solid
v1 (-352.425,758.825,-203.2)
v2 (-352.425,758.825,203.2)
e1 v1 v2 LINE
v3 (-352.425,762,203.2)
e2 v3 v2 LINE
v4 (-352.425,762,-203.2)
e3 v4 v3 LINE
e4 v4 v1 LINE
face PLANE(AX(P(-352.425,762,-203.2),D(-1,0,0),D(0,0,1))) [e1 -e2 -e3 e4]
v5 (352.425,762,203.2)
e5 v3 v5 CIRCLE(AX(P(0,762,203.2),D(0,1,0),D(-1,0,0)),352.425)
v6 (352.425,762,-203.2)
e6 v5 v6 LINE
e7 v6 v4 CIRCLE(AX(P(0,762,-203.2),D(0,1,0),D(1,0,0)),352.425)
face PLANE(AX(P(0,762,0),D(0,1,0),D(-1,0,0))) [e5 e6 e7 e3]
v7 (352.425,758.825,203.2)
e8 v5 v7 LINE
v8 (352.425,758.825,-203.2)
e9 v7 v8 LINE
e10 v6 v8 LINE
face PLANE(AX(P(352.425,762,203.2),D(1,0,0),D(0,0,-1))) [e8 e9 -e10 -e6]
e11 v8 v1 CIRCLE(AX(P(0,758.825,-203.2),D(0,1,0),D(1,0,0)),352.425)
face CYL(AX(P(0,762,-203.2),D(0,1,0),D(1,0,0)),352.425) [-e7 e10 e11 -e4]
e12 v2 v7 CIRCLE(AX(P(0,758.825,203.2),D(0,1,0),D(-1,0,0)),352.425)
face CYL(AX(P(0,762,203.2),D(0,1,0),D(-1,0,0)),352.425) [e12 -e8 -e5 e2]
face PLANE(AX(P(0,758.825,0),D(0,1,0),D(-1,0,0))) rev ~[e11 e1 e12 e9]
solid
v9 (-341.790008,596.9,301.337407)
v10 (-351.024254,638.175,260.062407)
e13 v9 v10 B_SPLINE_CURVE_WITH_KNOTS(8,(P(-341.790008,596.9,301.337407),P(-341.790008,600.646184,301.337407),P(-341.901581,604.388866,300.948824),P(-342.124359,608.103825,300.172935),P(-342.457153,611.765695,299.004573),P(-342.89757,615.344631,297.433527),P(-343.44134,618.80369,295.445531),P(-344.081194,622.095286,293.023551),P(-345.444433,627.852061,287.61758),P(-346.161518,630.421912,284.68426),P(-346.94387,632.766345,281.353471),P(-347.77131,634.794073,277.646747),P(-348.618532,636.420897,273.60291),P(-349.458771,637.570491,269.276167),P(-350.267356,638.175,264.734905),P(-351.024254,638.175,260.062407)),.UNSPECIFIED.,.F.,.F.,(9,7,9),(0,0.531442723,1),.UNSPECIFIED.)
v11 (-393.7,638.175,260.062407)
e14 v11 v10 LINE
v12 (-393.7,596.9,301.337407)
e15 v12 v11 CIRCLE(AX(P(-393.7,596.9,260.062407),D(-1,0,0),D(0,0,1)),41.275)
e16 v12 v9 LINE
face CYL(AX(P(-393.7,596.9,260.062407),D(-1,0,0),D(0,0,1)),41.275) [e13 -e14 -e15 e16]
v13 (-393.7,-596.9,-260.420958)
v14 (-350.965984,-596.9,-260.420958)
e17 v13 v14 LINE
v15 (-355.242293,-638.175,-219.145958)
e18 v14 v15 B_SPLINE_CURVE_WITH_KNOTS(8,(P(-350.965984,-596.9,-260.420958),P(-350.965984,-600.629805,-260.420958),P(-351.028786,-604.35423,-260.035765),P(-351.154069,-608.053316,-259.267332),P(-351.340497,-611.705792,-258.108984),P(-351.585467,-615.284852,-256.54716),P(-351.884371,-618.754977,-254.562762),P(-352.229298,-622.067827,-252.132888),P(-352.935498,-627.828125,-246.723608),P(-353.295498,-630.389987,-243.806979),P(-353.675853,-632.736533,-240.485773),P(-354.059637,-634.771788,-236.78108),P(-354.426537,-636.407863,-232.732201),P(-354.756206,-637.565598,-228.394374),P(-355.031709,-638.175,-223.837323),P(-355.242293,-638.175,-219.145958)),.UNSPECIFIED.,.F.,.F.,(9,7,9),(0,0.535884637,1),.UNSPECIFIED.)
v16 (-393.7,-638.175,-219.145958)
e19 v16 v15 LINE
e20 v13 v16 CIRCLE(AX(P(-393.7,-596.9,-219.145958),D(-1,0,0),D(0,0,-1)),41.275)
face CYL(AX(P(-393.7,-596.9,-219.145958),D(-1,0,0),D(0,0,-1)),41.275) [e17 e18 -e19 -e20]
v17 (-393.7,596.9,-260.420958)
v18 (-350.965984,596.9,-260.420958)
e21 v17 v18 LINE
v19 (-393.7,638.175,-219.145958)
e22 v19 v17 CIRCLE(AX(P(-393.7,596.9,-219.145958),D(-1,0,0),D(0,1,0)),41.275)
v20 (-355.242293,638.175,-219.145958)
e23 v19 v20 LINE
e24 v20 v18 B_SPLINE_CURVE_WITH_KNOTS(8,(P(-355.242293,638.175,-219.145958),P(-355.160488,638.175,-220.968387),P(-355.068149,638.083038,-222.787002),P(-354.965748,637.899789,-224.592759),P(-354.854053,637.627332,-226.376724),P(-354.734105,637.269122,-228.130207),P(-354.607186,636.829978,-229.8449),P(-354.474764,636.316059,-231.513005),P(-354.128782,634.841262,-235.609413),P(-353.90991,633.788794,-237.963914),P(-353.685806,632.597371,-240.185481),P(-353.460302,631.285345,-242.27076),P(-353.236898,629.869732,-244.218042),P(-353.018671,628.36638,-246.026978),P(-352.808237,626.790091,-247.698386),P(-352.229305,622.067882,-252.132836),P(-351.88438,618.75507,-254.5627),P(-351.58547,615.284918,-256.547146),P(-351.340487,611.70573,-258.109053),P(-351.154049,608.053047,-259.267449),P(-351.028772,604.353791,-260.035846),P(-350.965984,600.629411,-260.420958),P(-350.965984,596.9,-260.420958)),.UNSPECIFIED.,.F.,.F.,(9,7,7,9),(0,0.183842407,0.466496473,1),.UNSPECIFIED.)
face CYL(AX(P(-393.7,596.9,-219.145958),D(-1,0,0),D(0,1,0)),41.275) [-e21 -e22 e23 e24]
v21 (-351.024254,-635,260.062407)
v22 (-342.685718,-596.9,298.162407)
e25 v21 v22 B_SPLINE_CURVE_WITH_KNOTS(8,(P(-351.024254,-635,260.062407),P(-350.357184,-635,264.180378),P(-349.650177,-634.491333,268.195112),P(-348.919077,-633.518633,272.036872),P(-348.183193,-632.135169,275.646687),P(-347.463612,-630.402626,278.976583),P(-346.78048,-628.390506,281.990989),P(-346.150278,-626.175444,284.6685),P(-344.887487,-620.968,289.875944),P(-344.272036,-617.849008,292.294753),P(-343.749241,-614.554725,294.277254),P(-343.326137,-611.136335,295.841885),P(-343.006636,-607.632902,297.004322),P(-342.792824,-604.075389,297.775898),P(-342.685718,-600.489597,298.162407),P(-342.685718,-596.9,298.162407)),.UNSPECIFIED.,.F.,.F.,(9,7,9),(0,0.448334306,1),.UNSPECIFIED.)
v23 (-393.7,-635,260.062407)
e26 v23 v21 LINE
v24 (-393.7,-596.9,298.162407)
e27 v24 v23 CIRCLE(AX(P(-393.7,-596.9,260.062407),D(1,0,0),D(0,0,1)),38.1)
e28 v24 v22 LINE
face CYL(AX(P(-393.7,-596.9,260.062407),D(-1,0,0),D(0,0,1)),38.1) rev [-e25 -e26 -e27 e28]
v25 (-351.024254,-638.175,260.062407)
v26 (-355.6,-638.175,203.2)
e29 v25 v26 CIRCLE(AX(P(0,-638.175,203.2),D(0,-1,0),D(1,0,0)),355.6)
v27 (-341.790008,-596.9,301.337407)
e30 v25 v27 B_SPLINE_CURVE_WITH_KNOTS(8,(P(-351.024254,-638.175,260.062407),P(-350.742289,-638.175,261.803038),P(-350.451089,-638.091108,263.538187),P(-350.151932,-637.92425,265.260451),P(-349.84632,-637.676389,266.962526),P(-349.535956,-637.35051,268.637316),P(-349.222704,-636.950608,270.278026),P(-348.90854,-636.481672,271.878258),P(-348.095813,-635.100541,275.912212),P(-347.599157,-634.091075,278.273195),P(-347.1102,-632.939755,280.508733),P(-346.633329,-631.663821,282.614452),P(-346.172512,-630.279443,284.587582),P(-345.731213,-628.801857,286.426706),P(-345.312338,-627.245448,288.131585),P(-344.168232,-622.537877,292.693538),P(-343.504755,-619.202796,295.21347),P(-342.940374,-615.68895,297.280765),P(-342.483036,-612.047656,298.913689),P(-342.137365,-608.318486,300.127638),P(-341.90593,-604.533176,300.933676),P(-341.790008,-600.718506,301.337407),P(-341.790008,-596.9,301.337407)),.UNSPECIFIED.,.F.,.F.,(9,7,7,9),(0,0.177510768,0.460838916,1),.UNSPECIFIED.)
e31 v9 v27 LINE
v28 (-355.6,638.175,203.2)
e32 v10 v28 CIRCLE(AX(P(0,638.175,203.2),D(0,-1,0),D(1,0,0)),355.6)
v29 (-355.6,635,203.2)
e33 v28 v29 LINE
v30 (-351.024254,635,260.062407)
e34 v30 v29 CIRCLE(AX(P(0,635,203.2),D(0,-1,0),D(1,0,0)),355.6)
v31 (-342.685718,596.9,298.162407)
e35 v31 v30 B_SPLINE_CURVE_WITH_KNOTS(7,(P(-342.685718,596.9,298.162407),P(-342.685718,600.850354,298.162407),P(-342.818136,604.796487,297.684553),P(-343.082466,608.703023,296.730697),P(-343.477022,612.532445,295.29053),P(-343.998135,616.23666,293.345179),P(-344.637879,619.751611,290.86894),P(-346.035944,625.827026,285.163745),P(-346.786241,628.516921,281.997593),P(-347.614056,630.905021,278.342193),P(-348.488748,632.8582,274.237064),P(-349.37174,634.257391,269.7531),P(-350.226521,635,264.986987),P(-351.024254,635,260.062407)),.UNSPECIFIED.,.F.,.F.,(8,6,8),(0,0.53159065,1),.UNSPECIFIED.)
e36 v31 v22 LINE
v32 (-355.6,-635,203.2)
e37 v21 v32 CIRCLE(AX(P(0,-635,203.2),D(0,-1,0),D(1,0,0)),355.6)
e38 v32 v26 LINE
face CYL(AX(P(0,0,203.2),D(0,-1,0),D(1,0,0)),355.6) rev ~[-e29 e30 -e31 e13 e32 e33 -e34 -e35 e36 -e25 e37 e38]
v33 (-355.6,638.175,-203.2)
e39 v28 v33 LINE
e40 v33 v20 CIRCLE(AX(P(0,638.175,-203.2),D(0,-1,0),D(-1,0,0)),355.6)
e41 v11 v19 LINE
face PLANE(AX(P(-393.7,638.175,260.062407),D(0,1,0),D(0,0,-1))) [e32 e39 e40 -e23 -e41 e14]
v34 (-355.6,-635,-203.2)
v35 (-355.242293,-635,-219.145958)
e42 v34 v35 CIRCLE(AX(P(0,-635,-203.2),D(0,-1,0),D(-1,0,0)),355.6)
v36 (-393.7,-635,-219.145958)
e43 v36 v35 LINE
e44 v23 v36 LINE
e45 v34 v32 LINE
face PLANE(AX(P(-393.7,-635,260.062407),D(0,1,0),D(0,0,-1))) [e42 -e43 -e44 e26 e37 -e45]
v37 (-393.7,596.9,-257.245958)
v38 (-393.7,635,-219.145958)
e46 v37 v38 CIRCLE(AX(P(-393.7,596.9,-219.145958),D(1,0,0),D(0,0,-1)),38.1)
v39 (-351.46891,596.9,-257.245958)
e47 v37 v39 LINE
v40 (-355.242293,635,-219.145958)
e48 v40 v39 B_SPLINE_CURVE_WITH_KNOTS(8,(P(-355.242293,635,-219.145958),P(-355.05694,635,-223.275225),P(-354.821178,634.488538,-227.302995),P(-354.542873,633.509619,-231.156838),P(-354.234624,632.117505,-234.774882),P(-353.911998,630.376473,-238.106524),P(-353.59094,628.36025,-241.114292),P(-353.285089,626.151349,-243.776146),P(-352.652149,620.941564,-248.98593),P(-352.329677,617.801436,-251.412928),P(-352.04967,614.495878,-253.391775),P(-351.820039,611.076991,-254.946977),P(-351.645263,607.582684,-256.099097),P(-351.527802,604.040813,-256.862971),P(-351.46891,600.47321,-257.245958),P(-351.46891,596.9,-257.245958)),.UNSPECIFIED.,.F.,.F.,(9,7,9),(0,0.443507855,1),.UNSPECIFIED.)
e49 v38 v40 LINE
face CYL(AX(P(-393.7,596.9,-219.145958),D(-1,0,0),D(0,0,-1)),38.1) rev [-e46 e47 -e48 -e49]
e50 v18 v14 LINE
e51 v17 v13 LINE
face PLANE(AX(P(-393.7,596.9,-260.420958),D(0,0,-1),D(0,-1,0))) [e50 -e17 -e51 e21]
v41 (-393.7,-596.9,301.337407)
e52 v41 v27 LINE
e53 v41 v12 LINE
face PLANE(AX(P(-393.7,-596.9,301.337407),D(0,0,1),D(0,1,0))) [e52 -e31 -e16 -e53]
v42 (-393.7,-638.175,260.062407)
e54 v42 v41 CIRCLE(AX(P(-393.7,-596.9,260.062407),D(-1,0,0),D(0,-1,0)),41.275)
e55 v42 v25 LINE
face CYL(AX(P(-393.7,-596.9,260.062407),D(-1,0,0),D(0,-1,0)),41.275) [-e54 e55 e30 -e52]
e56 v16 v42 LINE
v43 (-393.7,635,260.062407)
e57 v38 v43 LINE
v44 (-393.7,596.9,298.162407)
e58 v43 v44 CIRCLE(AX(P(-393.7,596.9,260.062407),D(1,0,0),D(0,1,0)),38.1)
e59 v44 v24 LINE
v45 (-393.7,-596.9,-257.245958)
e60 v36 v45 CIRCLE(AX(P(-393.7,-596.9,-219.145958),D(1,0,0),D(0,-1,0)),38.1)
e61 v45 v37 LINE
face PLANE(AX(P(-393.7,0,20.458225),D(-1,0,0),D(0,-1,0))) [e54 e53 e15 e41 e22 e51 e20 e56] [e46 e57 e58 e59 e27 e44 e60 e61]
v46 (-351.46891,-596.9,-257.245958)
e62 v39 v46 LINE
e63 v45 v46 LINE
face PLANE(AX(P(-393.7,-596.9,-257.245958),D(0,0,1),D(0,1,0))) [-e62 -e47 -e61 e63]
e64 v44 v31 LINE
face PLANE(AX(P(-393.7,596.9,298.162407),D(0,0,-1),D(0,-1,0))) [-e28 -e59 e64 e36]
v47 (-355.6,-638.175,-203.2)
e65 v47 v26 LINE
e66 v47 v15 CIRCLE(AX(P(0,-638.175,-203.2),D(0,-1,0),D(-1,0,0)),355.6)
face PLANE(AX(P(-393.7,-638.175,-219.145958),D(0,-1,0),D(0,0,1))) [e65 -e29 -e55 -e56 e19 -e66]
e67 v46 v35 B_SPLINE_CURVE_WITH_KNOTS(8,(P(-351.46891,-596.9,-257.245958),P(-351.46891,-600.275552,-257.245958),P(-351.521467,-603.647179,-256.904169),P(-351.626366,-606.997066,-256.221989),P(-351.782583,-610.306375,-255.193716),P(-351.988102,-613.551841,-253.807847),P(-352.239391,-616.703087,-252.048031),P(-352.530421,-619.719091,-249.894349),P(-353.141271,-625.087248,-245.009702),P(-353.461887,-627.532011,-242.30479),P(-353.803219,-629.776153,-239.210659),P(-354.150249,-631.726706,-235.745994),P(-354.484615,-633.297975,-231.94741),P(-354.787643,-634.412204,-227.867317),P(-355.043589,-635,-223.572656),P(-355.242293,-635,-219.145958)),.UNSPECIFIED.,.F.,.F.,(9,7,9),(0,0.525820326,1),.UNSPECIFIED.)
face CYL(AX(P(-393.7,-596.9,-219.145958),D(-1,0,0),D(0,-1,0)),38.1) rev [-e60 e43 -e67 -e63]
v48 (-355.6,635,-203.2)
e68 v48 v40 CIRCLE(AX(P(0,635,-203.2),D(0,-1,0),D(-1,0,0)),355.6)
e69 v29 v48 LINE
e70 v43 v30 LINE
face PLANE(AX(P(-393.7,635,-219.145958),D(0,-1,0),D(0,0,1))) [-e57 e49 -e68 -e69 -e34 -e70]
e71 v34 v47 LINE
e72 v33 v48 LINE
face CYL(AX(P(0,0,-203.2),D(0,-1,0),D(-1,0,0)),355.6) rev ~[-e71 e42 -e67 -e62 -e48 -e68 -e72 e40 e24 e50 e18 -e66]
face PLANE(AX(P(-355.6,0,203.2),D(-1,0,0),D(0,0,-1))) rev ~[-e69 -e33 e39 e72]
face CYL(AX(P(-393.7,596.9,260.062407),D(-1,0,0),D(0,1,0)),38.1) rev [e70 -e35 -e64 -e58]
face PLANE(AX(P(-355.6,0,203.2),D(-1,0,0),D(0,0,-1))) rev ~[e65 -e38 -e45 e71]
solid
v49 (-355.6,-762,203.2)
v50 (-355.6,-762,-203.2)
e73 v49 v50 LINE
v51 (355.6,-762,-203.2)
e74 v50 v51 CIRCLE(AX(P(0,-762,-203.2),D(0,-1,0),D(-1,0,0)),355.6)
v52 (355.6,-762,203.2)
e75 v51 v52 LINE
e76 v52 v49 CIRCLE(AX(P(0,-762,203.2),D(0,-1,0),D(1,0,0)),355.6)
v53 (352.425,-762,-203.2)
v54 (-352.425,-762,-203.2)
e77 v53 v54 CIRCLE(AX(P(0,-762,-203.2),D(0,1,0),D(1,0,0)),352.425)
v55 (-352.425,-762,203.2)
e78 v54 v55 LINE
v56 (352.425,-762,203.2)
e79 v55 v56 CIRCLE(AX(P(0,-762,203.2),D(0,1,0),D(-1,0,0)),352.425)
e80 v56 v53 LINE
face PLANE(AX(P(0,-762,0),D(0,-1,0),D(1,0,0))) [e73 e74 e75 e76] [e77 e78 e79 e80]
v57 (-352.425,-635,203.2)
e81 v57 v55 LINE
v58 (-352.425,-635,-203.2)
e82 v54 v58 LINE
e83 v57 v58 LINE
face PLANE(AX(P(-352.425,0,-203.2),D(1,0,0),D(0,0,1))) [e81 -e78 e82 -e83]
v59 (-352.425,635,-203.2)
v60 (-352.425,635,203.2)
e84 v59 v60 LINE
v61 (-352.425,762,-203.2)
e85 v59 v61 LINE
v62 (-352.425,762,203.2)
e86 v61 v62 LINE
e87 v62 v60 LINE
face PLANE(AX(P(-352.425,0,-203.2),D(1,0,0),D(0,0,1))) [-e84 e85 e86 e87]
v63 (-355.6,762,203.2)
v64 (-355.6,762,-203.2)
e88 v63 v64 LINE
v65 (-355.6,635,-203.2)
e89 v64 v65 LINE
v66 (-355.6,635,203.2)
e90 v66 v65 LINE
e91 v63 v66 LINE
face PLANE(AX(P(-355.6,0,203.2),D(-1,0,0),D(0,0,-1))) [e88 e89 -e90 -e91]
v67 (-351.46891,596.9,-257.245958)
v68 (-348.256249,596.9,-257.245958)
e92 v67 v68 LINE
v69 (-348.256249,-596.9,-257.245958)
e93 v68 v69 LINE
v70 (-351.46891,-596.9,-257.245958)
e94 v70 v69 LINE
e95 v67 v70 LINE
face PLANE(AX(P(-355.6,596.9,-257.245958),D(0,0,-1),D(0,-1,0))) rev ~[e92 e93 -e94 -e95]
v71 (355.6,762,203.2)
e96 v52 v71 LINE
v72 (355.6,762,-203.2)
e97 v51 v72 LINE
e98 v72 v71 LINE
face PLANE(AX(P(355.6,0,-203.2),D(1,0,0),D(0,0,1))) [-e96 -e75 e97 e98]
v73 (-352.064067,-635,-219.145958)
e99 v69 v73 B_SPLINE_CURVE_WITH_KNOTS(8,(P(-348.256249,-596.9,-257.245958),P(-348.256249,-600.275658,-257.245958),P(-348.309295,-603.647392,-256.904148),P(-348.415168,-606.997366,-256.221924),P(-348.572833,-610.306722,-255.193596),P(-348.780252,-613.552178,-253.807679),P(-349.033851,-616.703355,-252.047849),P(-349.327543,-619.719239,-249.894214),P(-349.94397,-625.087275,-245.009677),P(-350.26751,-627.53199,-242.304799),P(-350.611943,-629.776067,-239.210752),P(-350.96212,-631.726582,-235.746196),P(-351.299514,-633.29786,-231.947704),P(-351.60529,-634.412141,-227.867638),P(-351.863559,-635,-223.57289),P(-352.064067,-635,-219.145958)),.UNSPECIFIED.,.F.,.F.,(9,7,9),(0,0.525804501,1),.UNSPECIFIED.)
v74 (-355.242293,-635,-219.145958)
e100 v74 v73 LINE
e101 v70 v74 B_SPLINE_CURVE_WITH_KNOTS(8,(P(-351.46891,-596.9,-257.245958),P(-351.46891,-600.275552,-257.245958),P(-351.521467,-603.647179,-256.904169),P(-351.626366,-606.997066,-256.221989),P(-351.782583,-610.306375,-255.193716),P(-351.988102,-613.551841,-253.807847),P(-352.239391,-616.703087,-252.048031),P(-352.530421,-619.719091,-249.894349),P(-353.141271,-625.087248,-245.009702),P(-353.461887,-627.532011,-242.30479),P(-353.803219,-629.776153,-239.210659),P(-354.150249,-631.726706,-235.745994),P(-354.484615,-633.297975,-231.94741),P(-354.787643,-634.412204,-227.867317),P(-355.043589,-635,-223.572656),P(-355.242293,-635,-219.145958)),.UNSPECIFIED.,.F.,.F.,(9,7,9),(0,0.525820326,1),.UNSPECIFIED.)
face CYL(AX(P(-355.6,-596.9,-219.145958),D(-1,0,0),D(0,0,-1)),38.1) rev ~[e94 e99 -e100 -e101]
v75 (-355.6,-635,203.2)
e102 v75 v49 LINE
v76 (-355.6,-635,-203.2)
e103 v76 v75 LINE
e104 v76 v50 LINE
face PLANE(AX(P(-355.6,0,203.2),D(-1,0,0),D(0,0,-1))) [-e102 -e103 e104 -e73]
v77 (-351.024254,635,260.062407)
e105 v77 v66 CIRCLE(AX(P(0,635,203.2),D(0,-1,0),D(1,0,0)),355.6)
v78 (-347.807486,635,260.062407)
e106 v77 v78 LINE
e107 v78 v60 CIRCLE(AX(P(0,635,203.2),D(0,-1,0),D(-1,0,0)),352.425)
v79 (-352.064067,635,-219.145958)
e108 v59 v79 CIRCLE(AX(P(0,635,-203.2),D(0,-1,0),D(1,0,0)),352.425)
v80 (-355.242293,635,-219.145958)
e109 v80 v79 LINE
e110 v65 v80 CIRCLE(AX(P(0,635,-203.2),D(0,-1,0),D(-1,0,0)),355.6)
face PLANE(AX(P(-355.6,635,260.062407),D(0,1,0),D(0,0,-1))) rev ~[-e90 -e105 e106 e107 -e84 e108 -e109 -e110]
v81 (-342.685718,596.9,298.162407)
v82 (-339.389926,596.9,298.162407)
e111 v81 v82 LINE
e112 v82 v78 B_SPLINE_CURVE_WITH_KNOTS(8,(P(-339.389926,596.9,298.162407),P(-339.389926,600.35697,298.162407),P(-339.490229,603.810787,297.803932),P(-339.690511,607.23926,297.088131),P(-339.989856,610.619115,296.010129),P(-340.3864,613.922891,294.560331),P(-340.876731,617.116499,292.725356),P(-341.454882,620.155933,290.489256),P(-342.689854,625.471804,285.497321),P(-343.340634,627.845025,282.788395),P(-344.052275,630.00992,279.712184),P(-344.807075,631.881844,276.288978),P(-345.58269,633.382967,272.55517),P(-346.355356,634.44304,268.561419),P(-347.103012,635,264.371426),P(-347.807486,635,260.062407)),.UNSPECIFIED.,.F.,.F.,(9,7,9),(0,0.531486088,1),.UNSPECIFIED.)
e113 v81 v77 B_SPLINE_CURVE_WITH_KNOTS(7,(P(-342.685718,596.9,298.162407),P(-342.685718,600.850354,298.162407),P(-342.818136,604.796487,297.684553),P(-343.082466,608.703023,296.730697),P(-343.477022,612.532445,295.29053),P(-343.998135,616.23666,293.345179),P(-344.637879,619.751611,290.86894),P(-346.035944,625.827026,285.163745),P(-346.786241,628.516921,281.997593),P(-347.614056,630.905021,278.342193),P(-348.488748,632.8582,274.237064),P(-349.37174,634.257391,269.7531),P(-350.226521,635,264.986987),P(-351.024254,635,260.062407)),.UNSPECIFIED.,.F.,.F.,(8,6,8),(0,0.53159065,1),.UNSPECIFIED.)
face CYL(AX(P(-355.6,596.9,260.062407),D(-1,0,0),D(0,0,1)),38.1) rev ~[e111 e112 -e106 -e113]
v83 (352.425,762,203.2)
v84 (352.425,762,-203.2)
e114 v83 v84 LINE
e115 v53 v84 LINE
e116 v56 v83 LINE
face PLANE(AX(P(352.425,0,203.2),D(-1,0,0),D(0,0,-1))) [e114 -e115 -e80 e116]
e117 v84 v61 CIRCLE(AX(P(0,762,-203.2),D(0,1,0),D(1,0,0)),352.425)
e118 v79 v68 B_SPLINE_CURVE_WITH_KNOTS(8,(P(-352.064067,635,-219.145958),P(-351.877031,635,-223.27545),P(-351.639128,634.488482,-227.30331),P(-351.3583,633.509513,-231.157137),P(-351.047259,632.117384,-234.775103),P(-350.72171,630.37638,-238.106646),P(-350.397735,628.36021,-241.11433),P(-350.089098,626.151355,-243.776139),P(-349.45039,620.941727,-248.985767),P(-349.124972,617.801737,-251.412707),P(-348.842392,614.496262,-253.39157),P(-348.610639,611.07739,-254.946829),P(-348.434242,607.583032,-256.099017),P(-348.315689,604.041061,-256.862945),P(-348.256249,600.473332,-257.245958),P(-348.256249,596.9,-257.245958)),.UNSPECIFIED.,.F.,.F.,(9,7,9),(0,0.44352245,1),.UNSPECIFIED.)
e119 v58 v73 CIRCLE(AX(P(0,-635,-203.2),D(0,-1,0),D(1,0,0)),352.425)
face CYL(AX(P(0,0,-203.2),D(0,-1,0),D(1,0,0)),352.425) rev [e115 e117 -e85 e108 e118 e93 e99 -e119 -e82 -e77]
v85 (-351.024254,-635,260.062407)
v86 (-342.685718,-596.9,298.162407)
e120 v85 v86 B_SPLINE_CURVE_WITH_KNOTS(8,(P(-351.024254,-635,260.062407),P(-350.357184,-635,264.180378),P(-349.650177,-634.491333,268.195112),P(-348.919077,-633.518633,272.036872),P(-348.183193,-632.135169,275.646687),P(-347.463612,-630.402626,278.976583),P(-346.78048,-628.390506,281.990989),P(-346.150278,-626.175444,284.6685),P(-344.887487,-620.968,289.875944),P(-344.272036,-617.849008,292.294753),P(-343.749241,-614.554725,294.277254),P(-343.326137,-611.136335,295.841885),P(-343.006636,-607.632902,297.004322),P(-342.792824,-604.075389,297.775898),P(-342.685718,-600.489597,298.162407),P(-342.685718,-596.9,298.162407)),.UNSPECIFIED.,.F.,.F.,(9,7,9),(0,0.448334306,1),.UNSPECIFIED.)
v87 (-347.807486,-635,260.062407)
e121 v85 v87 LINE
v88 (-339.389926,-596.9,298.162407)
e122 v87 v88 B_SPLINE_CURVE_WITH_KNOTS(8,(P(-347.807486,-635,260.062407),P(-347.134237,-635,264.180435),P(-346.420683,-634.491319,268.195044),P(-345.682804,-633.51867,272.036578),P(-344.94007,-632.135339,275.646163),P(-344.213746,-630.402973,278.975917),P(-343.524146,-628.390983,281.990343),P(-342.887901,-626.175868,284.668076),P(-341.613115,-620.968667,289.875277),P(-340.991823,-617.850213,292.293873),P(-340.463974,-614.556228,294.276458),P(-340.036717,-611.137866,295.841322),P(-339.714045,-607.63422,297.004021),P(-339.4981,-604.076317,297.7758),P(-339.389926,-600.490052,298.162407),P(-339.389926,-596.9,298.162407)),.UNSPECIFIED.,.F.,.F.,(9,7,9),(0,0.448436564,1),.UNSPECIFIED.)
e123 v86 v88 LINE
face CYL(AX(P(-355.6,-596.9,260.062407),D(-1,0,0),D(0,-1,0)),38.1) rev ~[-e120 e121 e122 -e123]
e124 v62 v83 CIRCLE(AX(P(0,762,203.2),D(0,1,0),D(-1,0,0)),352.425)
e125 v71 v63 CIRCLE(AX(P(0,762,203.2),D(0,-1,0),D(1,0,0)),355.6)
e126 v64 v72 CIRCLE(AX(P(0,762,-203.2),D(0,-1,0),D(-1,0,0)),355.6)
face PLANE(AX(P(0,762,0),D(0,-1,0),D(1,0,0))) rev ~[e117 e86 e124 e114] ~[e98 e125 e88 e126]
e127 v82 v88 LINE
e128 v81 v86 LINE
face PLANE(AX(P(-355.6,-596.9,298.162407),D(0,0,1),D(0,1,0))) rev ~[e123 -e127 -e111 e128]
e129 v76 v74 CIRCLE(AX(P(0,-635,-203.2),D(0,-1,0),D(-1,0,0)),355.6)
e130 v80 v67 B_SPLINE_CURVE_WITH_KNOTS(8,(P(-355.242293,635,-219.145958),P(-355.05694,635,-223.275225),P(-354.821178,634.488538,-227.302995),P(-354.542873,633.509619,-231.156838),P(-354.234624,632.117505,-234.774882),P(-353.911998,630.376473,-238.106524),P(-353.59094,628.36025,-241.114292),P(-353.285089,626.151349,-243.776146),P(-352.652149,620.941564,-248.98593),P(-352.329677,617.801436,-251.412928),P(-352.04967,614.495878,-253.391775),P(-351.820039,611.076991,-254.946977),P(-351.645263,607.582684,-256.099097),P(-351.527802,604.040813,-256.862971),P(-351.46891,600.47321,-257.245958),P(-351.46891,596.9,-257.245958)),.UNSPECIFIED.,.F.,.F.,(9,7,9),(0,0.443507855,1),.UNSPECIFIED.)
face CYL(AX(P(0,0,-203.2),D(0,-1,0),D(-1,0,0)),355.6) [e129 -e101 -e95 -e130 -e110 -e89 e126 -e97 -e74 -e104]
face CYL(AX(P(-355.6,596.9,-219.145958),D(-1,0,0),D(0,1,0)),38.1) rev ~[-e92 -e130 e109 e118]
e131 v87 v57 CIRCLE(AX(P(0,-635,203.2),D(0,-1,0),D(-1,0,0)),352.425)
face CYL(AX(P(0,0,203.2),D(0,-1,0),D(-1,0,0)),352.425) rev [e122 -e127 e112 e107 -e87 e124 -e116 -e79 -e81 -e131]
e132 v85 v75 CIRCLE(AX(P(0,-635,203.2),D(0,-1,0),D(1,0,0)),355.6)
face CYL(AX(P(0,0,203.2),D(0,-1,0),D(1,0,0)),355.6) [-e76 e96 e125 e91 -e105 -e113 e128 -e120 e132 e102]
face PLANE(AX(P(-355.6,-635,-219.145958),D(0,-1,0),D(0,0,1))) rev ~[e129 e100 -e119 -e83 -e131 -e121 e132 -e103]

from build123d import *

# Parameters (mm, degrees)
F1_DEPTH = 762
F3_DEPTH = 25.4
F8_DEPTH = 3.175


with BuildPart() as f1:
    # F0 (on Front) → F1 (new body, symmetric)
    with BuildSketch(Plane.XZ):
        with BuildLine():
            ThreePointArc((355.6, 203.2), (0, 558.8), (-355.6, 203.2))
            Line((-355.6, 203.2), (-355.6, -203.2))
            ThreePointArc((-355.6, -203.2), (0, -558.8), (355.6, -203.2))
            Line((355.6, -203.2), (355.6, 203.2))
        make_face()
        with BuildLine():
            ThreePointArc((-352.425, 203.2), (0, 555.625), (352.425, 203.2))
            Line((352.425, 203.2), (352.425, -203.2))
            ThreePointArc((352.425, -203.2), (0, -555.625), (-352.425, -203.2))
            Line((-352.425, -203.2), (-352.425, 203.2))
        make_face(mode=Mode.SUBTRACT)
    extrude(amount=F1_DEPTH, both=True)

    # F2 (on face) → F3 (cut)
    with BuildSketch(Plane(origin=(-355.6, 0, 0), x_dir=(0, -1, 0), z_dir=(-1, 0, 0))):
        with BuildLine():
            Line((596.9, 298.1624071598), (-596.9, 298.1624071598))
            ThreePointArc((-596.9, 298.1624071598), (-623.8407683632, 287.003175523), (-635, 260.0624071598))
            Line((-635, 260.0624071598), (-635, -219.1459578514))
            ThreePointArc((-635, -219.1459578514), (-623.8407683632, -246.0867262146), (-596.9, -257.2459578514))
            Line((-596.9, -257.2459578514), (596.9, -257.2459578514))
            ThreePointArc((596.9, -257.2459578514), (623.8407683632, -246.0867262146), (635, -219.1459578514))
            Line((635, -219.1459578514), (635, 260.0624071598))
            ThreePointArc((635, 260.0624071598), (623.8407683632, 287.003175523), (596.9, 298.1624071598))
        make_face()
    extrude(amount=-F3_DEPTH, mode=Mode.SUBTRACT)


with BuildPart() as f6:
    # F5 (on offset) → F6 (new body, up to the next surface of F1)
    with BuildSketch(Plane(origin=(-393.7, 0, 0), x_dir=(0, -1, 0), z_dir=(-1, 0, 0))):
        with BuildLine():
            Line((638.175, 203.2), (638.175, 260.0624071598))
            ThreePointArc((638.175, 260.0624071598), (626.0858323935, 289.2482395533), (596.9, 301.3374071598))
            Line((596.9, 301.3374071598), (-596.9, 301.3374071598))
            ThreePointArc((-596.9, 301.3374071598), (-626.0858323935, 289.2482395533), (-638.175, 260.0624071598))
            Line((-638.175, 260.0624071598), (-638.175, 203.2))
            Line((-638.175, 203.2), (-638.175, -203.2))
            Line((-638.175, -203.2), (-638.175, -219.1459578514))
            ThreePointArc((-638.175, -219.1459578514), (-626.0858323935, -248.3317902449), (-596.9, -260.4209578514))
            Line((-596.9, -260.4209578514), (596.9, -260.4209578514))
            ThreePointArc((596.9, -260.4209578514), (626.0858323935, -248.3317902449), (638.175, -219.1459578514))
            Line((638.175, -219.1459578514), (638.175, -203.2))
            Line((638.175, -203.2), (638.175, 203.2))
        make_face()
        with BuildLine():
            Line((596.9, -257.2459578514), (-596.9, -257.2459578514))
            ThreePointArc((-596.9, -257.2459578514), (-623.8407683632, -246.0867262146), (-635, -219.1459578514))
            Line((-635, -219.1459578514), (-635, -203.2))
            Line((-635, -203.2), (-635, 203.2))
            Line((-635, 203.2), (-635, 260.0624071598))
            ThreePointArc((-635, 260.0624071598), (-623.8407683632, 287.003175523), (-596.9, 298.1624071598))
            Line((-596.9, 298.1624071598), (596.9, 298.1624071598))
            ThreePointArc((596.9, 298.1624071598), (623.8407683632, 287.003175523), (635, 260.0624071598))
            Line((635, 260.0624071598), (635, 203.2))
            Line((635, 203.2), (635, -203.2))
            Line((635, -203.2), (635, -219.1459578514))
            ThreePointArc((635, -219.1459578514), (623.8407683632, -246.0867262146), (596.9, -257.2459578514))
        make_face(mode=Mode.SUBTRACT)
    extrude(until=Until.NEXT, target=f1.part, dir=(1, 0, 0))


with BuildPart() as f8:
    # F7 (on face) → F8 (new body)
    with BuildSketch(Plane(origin=(0, 762, 0), x_dir=(-1, 0, 0), z_dir=(0, 1, 0))):
        with BuildLine():
            ThreePointArc((352.425, 203.2), (0, 555.625), (-352.425, 203.2))
            Line((-352.425, 203.2), (-352.425, -203.2))
            ThreePointArc((-352.425, -203.2), (0, -555.625), (352.425, -203.2))
            Line((352.425, -203.2), (352.425, 203.2))
        make_face()
    extrude(amount=-F8_DEPTH)


solid = Compound([f1.part, f6.part, f8.part])
